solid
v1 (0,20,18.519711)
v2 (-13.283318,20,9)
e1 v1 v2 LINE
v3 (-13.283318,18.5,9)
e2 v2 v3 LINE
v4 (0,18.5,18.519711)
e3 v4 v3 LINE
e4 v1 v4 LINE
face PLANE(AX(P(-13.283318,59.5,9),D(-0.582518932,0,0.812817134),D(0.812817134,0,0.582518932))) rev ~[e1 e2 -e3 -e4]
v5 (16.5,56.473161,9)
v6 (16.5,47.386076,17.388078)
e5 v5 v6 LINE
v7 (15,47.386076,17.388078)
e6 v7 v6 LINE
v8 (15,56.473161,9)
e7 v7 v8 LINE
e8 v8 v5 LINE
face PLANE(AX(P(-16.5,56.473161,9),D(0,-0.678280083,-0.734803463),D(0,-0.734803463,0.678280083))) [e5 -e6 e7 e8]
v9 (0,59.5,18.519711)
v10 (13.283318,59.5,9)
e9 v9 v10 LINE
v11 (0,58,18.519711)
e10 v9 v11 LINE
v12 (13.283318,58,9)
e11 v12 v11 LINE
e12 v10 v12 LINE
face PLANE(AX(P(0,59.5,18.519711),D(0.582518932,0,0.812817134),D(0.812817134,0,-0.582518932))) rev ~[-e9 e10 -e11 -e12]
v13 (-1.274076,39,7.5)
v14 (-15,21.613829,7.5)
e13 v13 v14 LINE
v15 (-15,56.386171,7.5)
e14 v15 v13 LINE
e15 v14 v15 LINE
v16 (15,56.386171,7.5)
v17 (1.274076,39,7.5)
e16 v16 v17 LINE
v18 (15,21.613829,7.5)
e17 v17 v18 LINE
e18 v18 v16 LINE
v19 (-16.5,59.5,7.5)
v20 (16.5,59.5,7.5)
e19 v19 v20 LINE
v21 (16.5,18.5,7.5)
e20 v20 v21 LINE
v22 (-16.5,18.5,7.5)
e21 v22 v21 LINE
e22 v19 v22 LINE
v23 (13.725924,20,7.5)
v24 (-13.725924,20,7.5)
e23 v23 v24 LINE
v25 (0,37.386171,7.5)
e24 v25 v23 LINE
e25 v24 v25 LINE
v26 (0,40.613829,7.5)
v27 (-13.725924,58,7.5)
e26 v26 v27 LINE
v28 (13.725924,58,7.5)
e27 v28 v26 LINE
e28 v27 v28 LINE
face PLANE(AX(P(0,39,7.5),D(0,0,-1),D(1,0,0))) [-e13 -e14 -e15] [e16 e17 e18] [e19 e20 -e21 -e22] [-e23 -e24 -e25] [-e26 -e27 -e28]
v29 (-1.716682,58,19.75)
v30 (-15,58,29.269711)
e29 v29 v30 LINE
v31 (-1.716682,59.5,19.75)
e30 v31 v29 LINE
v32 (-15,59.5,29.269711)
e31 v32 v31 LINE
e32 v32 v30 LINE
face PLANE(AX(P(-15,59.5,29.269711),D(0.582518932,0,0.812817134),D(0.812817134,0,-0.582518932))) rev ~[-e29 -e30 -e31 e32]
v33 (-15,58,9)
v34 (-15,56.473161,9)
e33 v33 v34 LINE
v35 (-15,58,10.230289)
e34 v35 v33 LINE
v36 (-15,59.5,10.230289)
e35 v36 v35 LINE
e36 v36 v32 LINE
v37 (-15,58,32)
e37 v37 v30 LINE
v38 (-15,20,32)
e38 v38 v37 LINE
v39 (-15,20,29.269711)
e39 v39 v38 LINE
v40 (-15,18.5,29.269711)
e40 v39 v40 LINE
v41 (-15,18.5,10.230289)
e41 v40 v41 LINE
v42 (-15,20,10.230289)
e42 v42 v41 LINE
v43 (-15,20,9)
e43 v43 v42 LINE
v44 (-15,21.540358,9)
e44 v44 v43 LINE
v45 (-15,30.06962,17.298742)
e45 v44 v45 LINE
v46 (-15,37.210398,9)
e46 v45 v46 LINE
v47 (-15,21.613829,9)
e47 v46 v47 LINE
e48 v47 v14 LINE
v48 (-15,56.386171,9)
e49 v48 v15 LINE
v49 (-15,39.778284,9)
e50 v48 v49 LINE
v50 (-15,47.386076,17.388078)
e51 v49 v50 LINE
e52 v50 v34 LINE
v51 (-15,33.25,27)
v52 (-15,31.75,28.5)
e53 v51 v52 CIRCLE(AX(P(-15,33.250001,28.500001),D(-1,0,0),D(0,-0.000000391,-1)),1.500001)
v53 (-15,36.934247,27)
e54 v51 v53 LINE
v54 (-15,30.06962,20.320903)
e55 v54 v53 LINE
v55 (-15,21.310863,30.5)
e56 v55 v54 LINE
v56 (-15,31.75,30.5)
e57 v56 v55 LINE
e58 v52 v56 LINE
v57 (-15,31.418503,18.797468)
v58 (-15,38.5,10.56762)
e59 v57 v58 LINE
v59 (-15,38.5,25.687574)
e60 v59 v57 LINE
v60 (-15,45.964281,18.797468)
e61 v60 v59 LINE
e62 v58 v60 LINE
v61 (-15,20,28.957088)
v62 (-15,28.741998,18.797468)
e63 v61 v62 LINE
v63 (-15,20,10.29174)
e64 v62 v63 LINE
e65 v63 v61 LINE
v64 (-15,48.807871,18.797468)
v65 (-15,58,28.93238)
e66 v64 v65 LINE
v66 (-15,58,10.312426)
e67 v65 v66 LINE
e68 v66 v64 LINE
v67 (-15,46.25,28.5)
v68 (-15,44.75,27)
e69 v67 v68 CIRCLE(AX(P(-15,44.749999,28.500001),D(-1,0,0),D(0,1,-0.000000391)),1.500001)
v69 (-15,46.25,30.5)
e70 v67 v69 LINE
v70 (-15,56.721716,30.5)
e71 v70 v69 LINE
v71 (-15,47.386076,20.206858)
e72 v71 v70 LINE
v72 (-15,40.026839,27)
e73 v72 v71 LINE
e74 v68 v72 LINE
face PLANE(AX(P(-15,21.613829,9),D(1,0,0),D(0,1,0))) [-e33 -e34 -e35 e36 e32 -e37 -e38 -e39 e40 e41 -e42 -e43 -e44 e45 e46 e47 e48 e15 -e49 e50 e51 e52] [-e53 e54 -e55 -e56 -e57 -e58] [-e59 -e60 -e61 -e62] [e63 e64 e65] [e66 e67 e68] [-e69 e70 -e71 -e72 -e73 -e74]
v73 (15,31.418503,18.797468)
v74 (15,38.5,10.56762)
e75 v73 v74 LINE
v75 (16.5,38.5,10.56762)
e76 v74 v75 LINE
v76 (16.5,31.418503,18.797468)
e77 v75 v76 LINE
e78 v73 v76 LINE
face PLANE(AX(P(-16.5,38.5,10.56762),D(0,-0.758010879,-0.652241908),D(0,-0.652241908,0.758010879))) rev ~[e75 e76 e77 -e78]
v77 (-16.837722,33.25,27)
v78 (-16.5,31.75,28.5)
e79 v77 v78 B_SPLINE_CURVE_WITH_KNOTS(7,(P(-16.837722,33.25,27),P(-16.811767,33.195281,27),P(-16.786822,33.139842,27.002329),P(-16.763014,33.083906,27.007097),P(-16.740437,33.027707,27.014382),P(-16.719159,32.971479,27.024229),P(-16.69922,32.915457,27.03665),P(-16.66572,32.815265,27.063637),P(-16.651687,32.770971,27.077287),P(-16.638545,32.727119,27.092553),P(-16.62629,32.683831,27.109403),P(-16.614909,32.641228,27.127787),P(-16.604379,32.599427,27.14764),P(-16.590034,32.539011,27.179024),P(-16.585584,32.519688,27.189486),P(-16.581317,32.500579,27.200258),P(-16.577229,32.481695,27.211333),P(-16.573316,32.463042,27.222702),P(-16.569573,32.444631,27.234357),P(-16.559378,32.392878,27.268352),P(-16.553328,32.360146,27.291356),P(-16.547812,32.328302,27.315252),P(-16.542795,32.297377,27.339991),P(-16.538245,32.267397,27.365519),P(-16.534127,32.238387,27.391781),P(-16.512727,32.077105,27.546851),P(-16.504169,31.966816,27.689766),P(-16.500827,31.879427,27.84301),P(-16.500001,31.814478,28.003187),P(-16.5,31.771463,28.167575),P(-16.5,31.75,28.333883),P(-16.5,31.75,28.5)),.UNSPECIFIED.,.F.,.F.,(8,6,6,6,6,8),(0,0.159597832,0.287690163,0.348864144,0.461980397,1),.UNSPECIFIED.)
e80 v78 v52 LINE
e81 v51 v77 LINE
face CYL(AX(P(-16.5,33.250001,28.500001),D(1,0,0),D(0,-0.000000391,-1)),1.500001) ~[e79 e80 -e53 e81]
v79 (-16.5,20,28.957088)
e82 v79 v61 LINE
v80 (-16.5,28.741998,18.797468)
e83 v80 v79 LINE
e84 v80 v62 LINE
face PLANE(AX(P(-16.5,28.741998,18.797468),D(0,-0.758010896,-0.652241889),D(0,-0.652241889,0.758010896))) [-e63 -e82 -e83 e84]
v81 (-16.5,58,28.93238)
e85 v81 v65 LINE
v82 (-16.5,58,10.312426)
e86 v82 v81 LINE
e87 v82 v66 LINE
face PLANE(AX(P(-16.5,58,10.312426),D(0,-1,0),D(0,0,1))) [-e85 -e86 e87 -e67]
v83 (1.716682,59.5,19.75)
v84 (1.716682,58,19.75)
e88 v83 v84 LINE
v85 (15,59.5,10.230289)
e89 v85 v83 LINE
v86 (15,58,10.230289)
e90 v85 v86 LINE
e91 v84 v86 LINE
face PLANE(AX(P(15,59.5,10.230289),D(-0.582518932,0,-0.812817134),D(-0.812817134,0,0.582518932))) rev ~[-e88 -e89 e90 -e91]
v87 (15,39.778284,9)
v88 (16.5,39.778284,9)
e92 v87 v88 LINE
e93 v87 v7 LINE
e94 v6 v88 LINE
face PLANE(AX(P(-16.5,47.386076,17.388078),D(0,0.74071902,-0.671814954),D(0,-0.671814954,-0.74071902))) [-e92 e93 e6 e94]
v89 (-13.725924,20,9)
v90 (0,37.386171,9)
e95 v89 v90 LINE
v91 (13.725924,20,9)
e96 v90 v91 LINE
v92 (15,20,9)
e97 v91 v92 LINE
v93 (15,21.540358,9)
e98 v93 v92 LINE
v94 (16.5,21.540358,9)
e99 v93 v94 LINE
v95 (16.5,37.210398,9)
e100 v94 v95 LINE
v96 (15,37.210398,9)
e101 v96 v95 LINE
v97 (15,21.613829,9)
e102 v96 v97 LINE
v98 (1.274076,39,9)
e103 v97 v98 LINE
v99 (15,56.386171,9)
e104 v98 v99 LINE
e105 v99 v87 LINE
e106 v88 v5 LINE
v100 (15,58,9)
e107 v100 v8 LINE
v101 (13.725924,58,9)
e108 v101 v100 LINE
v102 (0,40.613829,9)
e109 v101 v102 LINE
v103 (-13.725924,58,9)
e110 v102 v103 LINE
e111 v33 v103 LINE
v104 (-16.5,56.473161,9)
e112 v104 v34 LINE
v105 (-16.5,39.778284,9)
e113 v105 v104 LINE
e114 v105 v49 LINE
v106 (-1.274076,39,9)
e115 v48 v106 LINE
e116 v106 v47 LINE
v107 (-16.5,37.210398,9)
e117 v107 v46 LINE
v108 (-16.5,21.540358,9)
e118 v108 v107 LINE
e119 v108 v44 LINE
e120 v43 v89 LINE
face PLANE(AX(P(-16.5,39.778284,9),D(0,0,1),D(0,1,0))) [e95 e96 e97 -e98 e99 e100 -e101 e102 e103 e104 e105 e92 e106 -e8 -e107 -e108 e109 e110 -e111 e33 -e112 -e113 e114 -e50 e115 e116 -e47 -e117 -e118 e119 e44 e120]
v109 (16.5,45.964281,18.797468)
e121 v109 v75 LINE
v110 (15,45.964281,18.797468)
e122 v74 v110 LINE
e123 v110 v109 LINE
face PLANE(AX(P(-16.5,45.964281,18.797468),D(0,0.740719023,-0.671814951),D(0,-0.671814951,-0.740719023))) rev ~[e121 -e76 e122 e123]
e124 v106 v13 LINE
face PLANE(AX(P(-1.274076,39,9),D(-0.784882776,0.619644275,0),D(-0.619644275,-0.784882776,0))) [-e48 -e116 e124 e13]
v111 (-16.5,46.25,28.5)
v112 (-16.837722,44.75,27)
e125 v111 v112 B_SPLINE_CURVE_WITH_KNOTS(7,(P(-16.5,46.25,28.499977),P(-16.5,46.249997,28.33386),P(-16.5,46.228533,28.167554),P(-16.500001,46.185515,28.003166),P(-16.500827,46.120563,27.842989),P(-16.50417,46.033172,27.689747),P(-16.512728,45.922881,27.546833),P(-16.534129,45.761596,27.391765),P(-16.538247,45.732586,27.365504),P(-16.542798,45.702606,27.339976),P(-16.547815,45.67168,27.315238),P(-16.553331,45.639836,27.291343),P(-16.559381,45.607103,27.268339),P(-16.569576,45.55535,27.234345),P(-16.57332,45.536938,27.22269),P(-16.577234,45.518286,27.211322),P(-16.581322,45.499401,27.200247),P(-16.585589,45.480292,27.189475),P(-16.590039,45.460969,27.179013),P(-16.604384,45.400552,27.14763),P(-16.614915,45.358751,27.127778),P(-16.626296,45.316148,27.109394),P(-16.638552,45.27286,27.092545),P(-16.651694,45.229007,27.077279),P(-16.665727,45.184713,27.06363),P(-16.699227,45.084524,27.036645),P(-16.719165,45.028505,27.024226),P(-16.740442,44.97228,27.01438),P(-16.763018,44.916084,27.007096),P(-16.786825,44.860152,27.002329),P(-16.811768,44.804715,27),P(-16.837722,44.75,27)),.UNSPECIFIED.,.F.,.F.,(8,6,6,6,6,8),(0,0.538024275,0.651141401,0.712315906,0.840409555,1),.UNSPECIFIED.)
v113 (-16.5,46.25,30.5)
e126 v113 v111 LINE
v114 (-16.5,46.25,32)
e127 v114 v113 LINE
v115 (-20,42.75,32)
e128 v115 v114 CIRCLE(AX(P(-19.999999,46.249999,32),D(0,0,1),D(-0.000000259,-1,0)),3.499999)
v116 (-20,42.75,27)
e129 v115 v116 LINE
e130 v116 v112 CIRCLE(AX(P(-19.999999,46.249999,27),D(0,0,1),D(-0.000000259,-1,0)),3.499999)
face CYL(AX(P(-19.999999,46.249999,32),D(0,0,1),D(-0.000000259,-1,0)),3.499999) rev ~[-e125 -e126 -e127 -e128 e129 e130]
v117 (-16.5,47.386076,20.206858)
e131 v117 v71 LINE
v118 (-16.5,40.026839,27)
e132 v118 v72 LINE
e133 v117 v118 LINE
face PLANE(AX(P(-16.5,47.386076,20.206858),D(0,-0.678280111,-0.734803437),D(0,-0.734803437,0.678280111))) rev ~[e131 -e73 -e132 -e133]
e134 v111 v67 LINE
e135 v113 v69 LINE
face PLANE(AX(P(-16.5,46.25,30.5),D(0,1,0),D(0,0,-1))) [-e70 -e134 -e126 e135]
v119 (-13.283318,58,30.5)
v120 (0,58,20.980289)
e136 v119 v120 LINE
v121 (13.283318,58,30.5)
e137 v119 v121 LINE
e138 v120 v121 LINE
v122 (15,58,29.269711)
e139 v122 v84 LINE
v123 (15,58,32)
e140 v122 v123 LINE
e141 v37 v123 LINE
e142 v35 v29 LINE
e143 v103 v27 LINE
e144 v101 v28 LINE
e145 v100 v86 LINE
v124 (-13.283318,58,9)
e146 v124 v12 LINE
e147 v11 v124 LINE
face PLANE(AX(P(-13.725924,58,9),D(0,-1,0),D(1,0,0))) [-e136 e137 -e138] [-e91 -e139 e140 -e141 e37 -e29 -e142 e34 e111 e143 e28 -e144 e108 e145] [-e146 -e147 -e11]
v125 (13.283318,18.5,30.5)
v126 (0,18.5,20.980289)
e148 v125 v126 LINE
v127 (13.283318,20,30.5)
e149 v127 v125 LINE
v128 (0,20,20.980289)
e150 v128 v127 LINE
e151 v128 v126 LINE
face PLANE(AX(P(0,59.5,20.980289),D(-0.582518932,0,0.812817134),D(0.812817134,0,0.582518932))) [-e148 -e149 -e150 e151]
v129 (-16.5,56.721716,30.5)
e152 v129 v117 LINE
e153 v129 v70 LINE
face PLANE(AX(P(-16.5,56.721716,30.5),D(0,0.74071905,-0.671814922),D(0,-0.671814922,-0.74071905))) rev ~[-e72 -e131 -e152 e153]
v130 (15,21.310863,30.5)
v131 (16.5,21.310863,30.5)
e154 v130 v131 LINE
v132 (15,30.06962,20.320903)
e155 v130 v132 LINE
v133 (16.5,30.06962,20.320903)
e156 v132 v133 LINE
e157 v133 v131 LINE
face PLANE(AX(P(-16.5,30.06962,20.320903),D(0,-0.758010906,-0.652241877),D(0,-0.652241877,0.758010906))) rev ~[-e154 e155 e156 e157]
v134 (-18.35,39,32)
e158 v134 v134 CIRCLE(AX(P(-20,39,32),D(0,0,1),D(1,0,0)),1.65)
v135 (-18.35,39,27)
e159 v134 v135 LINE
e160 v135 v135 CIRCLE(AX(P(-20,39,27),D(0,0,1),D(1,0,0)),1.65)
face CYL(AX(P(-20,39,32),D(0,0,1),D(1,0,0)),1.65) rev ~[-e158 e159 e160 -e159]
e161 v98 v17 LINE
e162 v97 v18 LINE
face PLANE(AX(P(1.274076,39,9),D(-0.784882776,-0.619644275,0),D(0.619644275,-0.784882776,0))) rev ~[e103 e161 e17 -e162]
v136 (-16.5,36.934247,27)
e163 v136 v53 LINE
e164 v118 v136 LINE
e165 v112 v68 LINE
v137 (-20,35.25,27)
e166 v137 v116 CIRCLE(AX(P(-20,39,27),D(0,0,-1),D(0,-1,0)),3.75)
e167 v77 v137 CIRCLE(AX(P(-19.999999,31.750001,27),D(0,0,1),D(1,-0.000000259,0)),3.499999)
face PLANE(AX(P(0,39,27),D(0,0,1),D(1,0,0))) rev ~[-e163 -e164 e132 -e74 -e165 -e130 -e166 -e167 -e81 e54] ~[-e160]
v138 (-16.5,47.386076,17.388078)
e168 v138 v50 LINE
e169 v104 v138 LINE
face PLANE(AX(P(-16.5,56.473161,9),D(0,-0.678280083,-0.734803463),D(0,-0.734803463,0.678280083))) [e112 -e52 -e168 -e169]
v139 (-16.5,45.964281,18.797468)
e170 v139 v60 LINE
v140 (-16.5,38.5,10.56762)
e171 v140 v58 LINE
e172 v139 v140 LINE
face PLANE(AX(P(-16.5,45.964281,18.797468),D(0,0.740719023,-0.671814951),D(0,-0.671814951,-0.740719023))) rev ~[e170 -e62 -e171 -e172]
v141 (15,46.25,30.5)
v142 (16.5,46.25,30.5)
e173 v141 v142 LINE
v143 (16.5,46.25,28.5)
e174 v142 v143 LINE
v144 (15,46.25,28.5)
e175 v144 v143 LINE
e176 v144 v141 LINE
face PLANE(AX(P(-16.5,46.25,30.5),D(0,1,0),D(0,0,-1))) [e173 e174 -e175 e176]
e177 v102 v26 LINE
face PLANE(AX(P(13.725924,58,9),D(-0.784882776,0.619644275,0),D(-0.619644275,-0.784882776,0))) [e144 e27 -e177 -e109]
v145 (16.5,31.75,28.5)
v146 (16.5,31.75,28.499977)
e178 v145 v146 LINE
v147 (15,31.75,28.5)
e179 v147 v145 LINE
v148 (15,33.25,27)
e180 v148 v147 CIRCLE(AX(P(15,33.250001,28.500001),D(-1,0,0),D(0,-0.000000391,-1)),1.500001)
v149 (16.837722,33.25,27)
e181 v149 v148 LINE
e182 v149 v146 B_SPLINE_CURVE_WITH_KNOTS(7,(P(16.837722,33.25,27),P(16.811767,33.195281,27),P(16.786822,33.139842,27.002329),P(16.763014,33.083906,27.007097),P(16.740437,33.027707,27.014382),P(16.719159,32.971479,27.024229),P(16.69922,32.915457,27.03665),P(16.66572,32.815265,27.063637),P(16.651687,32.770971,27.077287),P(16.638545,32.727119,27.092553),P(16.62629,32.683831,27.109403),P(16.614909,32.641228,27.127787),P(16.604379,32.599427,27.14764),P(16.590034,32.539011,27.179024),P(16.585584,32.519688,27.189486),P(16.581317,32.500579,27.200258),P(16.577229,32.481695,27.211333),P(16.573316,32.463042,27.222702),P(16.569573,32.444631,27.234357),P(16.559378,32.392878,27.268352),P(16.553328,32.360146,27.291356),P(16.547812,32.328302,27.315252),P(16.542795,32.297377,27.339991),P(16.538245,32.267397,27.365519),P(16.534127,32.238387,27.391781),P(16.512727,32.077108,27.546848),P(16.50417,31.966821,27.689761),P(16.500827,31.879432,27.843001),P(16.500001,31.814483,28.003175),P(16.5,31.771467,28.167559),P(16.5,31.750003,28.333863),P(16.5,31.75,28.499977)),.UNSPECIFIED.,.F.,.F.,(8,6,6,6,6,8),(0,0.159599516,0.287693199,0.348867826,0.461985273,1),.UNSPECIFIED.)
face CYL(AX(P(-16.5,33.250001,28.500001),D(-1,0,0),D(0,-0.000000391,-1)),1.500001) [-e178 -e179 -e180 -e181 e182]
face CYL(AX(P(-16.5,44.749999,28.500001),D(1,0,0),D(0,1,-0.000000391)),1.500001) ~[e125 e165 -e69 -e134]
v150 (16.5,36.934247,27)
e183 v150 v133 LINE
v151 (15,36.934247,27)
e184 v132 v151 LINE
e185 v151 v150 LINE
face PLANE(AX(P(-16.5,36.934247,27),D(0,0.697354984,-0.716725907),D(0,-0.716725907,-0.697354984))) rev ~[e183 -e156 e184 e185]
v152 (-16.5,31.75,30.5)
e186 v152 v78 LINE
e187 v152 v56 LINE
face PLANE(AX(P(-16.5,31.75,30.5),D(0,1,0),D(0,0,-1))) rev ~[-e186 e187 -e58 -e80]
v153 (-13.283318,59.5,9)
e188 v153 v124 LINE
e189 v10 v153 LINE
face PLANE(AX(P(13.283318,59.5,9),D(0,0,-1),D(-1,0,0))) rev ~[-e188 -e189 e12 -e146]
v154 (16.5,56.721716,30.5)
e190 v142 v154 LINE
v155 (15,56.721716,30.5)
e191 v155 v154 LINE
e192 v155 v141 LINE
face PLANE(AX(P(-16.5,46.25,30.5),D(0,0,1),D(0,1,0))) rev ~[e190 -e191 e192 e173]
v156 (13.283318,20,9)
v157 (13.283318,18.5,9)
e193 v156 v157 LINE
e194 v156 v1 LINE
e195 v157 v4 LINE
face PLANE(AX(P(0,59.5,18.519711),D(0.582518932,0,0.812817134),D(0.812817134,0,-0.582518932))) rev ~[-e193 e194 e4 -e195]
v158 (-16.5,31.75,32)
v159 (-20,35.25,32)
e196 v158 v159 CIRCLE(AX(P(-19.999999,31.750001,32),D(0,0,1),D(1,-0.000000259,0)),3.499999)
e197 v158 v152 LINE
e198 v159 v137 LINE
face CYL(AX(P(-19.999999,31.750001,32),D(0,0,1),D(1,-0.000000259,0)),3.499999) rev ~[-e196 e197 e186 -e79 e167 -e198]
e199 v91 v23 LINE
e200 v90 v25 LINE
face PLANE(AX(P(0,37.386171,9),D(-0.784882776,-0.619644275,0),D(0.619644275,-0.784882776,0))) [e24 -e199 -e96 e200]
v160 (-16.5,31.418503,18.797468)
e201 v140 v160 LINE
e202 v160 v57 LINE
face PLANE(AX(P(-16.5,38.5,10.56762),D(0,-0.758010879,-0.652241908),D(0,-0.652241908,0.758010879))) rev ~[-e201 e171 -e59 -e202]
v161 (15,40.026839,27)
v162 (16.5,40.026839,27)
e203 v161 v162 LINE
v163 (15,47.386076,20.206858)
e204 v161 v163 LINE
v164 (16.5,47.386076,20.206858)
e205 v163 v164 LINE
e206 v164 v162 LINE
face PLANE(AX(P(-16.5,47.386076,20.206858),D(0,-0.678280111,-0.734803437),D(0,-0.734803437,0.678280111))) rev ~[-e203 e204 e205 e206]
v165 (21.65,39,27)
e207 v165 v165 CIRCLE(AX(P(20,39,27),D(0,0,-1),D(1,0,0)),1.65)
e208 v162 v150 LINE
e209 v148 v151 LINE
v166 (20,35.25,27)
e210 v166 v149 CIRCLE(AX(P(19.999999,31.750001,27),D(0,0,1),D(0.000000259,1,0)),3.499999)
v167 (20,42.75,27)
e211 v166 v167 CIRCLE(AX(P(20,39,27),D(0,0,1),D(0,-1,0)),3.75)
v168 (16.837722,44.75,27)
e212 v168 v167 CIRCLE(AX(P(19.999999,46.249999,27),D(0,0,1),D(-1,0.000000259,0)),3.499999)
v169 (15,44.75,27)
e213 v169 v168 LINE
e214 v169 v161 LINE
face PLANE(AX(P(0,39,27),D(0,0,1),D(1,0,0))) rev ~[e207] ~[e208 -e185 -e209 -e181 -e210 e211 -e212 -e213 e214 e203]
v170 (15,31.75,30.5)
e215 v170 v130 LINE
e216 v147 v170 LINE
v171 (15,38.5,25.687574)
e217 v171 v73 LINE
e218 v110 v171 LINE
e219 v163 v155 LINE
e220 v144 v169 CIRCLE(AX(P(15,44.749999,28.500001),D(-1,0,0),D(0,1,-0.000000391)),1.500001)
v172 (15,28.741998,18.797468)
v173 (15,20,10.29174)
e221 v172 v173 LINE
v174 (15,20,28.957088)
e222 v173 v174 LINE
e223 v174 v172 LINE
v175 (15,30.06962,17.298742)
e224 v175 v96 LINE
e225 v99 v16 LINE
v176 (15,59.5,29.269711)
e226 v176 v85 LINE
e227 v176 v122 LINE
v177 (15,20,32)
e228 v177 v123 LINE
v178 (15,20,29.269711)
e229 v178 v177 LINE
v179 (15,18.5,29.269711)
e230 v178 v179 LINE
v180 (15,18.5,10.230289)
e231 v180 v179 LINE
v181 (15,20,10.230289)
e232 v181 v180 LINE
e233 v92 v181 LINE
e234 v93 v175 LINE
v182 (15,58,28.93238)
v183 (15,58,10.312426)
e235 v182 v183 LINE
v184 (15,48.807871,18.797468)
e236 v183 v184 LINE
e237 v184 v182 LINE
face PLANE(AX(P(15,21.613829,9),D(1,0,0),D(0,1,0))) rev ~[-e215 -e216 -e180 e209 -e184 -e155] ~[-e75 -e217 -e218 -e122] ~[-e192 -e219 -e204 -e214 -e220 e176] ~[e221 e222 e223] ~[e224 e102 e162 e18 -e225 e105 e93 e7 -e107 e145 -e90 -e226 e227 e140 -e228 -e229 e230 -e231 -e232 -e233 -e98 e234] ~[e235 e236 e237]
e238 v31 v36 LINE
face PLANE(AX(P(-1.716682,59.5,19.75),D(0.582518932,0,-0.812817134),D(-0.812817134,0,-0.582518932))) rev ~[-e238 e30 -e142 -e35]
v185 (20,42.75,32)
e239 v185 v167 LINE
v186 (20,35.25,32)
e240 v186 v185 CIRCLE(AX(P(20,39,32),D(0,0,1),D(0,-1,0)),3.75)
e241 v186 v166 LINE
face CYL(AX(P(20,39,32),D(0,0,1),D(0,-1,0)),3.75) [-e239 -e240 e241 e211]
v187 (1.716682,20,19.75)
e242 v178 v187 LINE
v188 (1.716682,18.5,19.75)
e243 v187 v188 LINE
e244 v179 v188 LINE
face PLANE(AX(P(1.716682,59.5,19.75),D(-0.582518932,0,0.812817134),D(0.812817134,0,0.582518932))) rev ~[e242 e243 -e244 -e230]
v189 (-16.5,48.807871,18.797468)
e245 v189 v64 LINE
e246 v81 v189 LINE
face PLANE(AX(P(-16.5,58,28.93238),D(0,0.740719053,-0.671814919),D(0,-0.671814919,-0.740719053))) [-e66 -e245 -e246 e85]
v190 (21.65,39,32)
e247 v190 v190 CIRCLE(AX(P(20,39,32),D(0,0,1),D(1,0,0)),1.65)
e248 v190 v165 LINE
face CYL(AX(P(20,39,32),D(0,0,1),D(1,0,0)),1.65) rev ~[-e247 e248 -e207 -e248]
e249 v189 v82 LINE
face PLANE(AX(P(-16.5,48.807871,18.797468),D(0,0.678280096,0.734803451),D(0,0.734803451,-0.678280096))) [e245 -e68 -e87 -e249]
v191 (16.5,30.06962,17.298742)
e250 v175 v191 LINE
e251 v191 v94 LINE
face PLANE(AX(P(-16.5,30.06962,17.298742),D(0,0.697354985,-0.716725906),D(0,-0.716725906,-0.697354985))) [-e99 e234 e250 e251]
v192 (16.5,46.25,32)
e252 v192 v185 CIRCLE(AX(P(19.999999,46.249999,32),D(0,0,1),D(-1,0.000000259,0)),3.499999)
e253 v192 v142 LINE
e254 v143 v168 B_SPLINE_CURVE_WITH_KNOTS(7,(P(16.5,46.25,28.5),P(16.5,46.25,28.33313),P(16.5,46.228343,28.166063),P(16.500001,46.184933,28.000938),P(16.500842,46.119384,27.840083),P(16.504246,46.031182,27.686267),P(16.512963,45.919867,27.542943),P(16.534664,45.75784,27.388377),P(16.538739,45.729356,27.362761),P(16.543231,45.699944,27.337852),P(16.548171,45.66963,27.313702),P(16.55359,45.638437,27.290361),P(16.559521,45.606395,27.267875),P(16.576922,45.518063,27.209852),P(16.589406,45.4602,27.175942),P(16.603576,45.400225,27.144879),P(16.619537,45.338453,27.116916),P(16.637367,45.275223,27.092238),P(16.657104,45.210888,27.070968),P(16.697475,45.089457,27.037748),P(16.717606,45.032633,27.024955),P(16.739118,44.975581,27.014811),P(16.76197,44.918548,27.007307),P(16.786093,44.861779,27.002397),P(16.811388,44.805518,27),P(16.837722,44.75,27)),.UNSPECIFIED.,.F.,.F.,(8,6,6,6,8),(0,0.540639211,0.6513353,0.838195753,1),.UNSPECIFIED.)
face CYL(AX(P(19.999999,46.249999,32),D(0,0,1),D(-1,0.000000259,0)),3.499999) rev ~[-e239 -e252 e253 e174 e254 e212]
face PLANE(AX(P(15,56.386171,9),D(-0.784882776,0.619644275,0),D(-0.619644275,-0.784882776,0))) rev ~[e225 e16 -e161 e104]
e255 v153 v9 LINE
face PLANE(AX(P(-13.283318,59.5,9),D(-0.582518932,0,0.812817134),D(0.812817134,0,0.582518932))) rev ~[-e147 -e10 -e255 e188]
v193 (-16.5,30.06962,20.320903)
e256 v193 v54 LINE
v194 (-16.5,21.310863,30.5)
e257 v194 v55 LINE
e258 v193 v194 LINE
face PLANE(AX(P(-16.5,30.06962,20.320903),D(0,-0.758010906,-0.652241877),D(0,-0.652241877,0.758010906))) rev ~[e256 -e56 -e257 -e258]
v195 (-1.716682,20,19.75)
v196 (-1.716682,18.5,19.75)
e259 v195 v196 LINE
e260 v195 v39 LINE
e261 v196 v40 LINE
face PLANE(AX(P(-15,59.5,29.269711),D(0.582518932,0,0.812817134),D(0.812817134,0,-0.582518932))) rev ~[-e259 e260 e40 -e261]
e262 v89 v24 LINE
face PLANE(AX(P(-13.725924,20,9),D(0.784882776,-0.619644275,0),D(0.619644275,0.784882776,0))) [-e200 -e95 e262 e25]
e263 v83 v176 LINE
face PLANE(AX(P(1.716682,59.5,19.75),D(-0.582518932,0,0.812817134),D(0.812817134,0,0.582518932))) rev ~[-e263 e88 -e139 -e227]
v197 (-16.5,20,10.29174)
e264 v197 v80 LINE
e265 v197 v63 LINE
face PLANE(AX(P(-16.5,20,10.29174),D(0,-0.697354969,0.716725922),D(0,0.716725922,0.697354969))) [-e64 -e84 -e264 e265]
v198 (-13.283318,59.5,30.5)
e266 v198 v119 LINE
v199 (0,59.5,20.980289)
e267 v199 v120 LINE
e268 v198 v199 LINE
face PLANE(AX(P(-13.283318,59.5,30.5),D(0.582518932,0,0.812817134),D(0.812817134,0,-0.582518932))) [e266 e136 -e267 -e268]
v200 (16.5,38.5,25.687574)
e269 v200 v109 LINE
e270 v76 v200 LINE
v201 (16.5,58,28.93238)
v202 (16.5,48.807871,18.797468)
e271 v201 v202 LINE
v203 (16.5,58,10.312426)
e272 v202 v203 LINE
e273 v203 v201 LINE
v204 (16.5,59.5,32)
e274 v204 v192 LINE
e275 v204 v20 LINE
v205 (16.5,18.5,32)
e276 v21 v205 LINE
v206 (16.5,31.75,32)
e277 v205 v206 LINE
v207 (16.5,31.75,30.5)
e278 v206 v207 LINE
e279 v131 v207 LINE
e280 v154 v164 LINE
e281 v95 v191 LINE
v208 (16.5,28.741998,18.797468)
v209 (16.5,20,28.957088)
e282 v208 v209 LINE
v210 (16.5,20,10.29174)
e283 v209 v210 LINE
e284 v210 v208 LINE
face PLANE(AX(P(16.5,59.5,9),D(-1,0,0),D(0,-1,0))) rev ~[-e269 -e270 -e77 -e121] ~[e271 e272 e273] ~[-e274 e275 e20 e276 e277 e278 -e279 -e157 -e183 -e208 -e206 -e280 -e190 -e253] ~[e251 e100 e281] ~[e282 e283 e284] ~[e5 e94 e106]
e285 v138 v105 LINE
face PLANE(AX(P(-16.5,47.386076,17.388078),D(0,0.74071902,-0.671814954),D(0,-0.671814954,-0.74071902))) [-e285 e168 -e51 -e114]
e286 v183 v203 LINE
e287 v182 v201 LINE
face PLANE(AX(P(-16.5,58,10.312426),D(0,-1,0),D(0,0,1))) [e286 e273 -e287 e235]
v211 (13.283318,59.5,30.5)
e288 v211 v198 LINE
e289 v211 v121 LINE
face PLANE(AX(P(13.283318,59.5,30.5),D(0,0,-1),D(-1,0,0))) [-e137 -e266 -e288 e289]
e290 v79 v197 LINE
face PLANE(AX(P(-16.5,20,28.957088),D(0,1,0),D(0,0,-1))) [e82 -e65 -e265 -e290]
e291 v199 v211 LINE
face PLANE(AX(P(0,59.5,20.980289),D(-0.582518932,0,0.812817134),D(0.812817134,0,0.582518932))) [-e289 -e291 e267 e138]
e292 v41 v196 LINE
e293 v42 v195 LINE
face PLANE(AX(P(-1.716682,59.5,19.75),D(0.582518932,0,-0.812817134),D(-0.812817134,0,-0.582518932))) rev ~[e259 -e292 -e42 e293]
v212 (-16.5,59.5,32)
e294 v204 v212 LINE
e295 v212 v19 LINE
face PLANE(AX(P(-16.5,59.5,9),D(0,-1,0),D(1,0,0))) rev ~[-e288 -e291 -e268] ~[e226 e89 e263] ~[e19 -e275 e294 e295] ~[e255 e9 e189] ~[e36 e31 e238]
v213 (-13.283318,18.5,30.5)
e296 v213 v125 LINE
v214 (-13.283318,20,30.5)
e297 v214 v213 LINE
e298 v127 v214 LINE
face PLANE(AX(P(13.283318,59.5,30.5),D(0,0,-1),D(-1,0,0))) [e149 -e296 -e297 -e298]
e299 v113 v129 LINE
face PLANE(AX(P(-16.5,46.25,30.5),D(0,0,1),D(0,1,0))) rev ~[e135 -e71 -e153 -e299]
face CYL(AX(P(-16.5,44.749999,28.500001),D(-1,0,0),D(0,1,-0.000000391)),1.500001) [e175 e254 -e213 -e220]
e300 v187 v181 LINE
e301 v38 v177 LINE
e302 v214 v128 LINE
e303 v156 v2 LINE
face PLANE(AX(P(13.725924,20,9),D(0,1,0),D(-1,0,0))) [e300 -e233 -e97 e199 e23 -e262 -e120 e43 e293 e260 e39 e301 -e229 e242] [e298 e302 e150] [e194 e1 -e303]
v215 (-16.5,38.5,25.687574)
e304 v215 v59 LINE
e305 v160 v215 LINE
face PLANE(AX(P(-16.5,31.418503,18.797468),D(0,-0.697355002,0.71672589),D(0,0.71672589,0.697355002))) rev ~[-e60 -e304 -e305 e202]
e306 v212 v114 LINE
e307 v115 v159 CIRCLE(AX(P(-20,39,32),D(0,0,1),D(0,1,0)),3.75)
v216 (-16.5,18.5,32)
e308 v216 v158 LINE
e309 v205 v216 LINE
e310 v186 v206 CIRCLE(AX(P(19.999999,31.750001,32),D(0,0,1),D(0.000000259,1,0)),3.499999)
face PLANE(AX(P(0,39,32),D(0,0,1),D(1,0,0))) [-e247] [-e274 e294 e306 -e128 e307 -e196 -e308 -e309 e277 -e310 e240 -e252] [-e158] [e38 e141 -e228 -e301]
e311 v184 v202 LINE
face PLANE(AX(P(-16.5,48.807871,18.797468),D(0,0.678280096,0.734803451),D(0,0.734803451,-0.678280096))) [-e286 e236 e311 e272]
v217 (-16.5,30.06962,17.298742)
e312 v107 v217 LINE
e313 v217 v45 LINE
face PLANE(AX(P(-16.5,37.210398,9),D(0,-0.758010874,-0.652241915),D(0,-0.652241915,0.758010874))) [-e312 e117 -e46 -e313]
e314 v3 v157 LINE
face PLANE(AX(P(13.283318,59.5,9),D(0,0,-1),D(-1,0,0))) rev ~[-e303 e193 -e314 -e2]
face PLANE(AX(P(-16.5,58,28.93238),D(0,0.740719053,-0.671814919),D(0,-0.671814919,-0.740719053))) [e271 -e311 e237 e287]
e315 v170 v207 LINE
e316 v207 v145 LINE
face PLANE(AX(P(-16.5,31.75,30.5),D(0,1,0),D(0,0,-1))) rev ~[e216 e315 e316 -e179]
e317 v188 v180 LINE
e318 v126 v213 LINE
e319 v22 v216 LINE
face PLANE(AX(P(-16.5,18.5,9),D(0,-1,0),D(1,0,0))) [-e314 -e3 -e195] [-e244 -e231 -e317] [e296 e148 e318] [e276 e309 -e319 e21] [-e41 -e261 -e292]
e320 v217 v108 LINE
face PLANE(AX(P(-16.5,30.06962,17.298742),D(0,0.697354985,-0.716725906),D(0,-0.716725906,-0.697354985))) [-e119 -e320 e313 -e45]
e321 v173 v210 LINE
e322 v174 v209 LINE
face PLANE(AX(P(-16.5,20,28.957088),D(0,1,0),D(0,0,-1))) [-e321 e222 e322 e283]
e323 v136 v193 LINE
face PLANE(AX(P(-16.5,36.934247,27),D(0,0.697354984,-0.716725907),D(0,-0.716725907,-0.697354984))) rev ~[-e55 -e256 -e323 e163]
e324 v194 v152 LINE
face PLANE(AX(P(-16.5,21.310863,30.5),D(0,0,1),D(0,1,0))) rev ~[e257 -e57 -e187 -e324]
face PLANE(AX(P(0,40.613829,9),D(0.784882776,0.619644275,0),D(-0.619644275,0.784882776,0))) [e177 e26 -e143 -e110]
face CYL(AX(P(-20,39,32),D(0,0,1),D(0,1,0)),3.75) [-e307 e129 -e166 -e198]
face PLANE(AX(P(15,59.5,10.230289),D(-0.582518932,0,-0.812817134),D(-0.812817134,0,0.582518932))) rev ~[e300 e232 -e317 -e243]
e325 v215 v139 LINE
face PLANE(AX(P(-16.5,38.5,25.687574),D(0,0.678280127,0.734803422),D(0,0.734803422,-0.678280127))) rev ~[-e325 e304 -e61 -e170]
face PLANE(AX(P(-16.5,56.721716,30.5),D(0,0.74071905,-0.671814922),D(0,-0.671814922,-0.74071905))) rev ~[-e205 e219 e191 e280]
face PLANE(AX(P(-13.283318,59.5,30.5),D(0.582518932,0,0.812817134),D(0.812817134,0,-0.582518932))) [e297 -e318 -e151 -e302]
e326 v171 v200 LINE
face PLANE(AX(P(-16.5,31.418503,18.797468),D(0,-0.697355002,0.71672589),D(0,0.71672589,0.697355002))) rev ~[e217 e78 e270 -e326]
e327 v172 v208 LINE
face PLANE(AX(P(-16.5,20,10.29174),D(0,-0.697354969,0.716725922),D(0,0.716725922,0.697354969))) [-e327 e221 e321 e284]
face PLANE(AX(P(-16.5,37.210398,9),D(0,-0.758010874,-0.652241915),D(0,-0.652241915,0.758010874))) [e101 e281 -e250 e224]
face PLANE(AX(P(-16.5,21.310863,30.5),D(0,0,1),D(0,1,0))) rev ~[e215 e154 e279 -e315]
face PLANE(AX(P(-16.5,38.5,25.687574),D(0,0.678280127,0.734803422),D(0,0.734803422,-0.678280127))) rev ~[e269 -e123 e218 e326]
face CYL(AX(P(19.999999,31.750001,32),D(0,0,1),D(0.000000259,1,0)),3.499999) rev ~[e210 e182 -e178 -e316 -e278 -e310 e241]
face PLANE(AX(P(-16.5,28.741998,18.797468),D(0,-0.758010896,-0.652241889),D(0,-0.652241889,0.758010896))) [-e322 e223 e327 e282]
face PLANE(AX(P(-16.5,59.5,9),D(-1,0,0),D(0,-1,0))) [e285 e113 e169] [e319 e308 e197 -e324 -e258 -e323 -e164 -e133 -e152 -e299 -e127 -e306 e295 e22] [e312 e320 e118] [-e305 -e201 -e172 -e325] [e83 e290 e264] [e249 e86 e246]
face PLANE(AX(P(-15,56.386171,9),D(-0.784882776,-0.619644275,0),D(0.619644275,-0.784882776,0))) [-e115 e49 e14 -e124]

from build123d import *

# Parameters (mm, degrees)
SKETCH072_R          = 1.65
SKETCH072_W          = 30
SKETCH072_H          = 38
PAD031_DEPTH         = 5
SKETCH073_W          = 33
SKETCH073_H          = 41
SKETCH073_W_2        = 30
SKETCH073_H_2        = 38
PAD032_DEPTH         = 18
SKETCH108_W          = 33
SKETCH108_H          = 41
PAD049_DEPTH         = 1.5
POCKET055_DEPTH      = 41.001
POCKET056_DEPTH      = 50
POCKET056_DEPTH_BACK = 5


with BuildPart() as part:
    # Sketch072 → Pad031 (new body)
    with BuildSketch(Plane.XY):
        with BuildLine():
            Line((16.5, 59.5), (-16.5, 59.5))
            Line((-16.5, 59.5), (-16.5, 46.25))
            ThreePointArc((-20, 42.75), (-17.525126, 43.775126), (-16.5, 46.25))
            ThreePointArc((-20, 42.75), (-23.75, 39), (-20, 35.25))
            ThreePointArc((-16.5, 31.75), (-17.525126, 34.224874), (-20, 35.25))
            Line((-16.5, 18.5), (-16.5, 31.75))
            Line((16.5, 18.5), (-16.5, 18.5))
            Line((16.5, 18.5), (16.5, 31.75))
            ThreePointArc((20, 35.25), (17.525126, 34.224874), (16.5, 31.75))
            ThreePointArc((20, 35.25), (23.75, 39), (20, 42.75))
            ThreePointArc((16.5, 46.25), (17.525126, 43.775126), (20, 42.75))
            Line((16.5, 59.5), (16.5, 46.25))
        make_face()
        with Locations((20, 39)):
            Circle(SKETCH072_R, mode=Mode.SUBTRACT)
        with Locations((-20, 39)):
            Circle(SKETCH072_R, mode=Mode.SUBTRACT)
        with Locations((0, 39)):
            Rectangle(SKETCH072_W, SKETCH072_H, mode=Mode.SUBTRACT)
    extrude(amount=-PAD031_DEPTH)

    # Sketch073 (on Face20 of Pad031) → Pad032 (join)
    with BuildSketch(Plane(origin=(0, 0, -5), x_dir=(1, 0, 0), z_dir=(0, 0, -1))):
        with Locations((0, -39)):
            Rectangle(SKETCH073_W, SKETCH073_H)
        with Locations((0, -39)):
            Rectangle(SKETCH073_W_2, SKETCH073_H_2, mode=Mode.SUBTRACT)
    extrude(amount=PAD032_DEPTH)

    # Sketch108 (on Face23 of Pad032) → Pad049 (join)
    with BuildSketch(Plane(origin=(0, 0, -23), x_dir=(1, 0, 0), z_dir=(0, 0, -1))):
        with Locations((0, -39)):
            Rectangle(SKETCH108_W, SKETCH108_H)
        Polygon((0, -40.613829), (-13.725924, -58), (13.725924, -58), align=None, mode=Mode.SUBTRACT)
        Polygon((15, -56.386171), (1.274076, -39), (15, -21.613829), align=None, mode=Mode.SUBTRACT)
        Polygon((13.725924, -20), (-13.725924, -20), (0, -37.386171), align=None, mode=Mode.SUBTRACT)
        Polygon((-1.274076, -39), (-15, -21.613829), (-15, -56.386171), align=None, mode=Mode.SUBTRACT)
    extrude(amount=PAD049_DEPTH)

    # Sketch109 (on Face5 of Pad049) → Pocket055 (cut, through all)
    with BuildSketch(Plane(origin=(0, 59.5, 0), x_dir=(-1, 0, 0), z_dir=(0, 1, 0))):
        Polygon((-15, -2.730289), (-15, -21.769711), (-1.716682, -12.25), align=None)
        Polygon((1.716682, -12.25), (15, -21.769711), (15, -2.730289), align=None)
        Polygon((-13.283318, -23), (13.283318, -23), (0, -13.480289), align=None)
        Polygon((-13.283318, -1.5), (13.283318, -1.5), (0, -11.019711), align=None)
    extrude(amount=-POCKET055_DEPTH, mode=Mode.SUBTRACT)

    # Sketch110 (on Face28 of Pocket055) → Pocket056 (cut, two sides)
    with BuildSketch(Plane(origin=(-16.5, 0, 0), x_dir=(0, -1, 0), z_dir=(-1, 0, 0))) as pocket056_sk:
        Polygon((-56.473161, -23), (-47.386076, -14.611922), (-39.778284, -23), align=None)
        Polygon((-58, -21.687574), (-58, -3.06762), (-48.807871, -13.202532), align=None)
        with BuildLine():
            Line((-56.721716, -1.5), (-47.386076, -11.793142))
            Line((-47.386076, -11.793142), (-40.026839, -5))
            Line((-40.026839, -5), (-44.75, -5))
            ThreePointArc((-46.25, -3.5), (-45.81066, -4.56066), (-44.75, -5))
            Line((-46.25, -1.5), (-46.25, -3.5))
            Line((-46.25, -1.5), (-56.721716, -1.5))
        make_face()
        with BuildLine():
            Line((-36.934247, -5), (-30.06962, -11.679097))
            Line((-30.06962, -11.679097), (-21.310863, -1.5))
            Line((-21.310863, -1.5), (-31.75, -1.5))
            Line((-31.75, -1.5), (-31.75, -3.5))
            ThreePointArc((-33.25, -5), (-32.18934, -4.56066), (-31.75, -3.5))
            Line((-36.934247, -5), (-33.25, -5))
        make_face()
        Polygon((-28.741998, -13.202532), (-20, -3.042912), (-20, -21.70826), align=None)
        Polygon((-37.210398, -23), (-30.06962, -14.701258), (-21.540358, -23), align=None)
        Polygon((-38.5, -21.43238), (-31.418503, -13.202532), (-38.5, -6.312426), (-45.964281, -13.202532), align=None)
    extrude(amount=-POCKET056_DEPTH, mode=Mode.SUBTRACT)
    extrude(pocket056_sk.sketch, amount=POCKET056_DEPTH_BACK, mode=Mode.SUBTRACT)


with BuildPart() as part_1:
    # Body023 placement: moved
    add(part.part.moved(Location((0, 0, 32))))


solid = part_1.part
